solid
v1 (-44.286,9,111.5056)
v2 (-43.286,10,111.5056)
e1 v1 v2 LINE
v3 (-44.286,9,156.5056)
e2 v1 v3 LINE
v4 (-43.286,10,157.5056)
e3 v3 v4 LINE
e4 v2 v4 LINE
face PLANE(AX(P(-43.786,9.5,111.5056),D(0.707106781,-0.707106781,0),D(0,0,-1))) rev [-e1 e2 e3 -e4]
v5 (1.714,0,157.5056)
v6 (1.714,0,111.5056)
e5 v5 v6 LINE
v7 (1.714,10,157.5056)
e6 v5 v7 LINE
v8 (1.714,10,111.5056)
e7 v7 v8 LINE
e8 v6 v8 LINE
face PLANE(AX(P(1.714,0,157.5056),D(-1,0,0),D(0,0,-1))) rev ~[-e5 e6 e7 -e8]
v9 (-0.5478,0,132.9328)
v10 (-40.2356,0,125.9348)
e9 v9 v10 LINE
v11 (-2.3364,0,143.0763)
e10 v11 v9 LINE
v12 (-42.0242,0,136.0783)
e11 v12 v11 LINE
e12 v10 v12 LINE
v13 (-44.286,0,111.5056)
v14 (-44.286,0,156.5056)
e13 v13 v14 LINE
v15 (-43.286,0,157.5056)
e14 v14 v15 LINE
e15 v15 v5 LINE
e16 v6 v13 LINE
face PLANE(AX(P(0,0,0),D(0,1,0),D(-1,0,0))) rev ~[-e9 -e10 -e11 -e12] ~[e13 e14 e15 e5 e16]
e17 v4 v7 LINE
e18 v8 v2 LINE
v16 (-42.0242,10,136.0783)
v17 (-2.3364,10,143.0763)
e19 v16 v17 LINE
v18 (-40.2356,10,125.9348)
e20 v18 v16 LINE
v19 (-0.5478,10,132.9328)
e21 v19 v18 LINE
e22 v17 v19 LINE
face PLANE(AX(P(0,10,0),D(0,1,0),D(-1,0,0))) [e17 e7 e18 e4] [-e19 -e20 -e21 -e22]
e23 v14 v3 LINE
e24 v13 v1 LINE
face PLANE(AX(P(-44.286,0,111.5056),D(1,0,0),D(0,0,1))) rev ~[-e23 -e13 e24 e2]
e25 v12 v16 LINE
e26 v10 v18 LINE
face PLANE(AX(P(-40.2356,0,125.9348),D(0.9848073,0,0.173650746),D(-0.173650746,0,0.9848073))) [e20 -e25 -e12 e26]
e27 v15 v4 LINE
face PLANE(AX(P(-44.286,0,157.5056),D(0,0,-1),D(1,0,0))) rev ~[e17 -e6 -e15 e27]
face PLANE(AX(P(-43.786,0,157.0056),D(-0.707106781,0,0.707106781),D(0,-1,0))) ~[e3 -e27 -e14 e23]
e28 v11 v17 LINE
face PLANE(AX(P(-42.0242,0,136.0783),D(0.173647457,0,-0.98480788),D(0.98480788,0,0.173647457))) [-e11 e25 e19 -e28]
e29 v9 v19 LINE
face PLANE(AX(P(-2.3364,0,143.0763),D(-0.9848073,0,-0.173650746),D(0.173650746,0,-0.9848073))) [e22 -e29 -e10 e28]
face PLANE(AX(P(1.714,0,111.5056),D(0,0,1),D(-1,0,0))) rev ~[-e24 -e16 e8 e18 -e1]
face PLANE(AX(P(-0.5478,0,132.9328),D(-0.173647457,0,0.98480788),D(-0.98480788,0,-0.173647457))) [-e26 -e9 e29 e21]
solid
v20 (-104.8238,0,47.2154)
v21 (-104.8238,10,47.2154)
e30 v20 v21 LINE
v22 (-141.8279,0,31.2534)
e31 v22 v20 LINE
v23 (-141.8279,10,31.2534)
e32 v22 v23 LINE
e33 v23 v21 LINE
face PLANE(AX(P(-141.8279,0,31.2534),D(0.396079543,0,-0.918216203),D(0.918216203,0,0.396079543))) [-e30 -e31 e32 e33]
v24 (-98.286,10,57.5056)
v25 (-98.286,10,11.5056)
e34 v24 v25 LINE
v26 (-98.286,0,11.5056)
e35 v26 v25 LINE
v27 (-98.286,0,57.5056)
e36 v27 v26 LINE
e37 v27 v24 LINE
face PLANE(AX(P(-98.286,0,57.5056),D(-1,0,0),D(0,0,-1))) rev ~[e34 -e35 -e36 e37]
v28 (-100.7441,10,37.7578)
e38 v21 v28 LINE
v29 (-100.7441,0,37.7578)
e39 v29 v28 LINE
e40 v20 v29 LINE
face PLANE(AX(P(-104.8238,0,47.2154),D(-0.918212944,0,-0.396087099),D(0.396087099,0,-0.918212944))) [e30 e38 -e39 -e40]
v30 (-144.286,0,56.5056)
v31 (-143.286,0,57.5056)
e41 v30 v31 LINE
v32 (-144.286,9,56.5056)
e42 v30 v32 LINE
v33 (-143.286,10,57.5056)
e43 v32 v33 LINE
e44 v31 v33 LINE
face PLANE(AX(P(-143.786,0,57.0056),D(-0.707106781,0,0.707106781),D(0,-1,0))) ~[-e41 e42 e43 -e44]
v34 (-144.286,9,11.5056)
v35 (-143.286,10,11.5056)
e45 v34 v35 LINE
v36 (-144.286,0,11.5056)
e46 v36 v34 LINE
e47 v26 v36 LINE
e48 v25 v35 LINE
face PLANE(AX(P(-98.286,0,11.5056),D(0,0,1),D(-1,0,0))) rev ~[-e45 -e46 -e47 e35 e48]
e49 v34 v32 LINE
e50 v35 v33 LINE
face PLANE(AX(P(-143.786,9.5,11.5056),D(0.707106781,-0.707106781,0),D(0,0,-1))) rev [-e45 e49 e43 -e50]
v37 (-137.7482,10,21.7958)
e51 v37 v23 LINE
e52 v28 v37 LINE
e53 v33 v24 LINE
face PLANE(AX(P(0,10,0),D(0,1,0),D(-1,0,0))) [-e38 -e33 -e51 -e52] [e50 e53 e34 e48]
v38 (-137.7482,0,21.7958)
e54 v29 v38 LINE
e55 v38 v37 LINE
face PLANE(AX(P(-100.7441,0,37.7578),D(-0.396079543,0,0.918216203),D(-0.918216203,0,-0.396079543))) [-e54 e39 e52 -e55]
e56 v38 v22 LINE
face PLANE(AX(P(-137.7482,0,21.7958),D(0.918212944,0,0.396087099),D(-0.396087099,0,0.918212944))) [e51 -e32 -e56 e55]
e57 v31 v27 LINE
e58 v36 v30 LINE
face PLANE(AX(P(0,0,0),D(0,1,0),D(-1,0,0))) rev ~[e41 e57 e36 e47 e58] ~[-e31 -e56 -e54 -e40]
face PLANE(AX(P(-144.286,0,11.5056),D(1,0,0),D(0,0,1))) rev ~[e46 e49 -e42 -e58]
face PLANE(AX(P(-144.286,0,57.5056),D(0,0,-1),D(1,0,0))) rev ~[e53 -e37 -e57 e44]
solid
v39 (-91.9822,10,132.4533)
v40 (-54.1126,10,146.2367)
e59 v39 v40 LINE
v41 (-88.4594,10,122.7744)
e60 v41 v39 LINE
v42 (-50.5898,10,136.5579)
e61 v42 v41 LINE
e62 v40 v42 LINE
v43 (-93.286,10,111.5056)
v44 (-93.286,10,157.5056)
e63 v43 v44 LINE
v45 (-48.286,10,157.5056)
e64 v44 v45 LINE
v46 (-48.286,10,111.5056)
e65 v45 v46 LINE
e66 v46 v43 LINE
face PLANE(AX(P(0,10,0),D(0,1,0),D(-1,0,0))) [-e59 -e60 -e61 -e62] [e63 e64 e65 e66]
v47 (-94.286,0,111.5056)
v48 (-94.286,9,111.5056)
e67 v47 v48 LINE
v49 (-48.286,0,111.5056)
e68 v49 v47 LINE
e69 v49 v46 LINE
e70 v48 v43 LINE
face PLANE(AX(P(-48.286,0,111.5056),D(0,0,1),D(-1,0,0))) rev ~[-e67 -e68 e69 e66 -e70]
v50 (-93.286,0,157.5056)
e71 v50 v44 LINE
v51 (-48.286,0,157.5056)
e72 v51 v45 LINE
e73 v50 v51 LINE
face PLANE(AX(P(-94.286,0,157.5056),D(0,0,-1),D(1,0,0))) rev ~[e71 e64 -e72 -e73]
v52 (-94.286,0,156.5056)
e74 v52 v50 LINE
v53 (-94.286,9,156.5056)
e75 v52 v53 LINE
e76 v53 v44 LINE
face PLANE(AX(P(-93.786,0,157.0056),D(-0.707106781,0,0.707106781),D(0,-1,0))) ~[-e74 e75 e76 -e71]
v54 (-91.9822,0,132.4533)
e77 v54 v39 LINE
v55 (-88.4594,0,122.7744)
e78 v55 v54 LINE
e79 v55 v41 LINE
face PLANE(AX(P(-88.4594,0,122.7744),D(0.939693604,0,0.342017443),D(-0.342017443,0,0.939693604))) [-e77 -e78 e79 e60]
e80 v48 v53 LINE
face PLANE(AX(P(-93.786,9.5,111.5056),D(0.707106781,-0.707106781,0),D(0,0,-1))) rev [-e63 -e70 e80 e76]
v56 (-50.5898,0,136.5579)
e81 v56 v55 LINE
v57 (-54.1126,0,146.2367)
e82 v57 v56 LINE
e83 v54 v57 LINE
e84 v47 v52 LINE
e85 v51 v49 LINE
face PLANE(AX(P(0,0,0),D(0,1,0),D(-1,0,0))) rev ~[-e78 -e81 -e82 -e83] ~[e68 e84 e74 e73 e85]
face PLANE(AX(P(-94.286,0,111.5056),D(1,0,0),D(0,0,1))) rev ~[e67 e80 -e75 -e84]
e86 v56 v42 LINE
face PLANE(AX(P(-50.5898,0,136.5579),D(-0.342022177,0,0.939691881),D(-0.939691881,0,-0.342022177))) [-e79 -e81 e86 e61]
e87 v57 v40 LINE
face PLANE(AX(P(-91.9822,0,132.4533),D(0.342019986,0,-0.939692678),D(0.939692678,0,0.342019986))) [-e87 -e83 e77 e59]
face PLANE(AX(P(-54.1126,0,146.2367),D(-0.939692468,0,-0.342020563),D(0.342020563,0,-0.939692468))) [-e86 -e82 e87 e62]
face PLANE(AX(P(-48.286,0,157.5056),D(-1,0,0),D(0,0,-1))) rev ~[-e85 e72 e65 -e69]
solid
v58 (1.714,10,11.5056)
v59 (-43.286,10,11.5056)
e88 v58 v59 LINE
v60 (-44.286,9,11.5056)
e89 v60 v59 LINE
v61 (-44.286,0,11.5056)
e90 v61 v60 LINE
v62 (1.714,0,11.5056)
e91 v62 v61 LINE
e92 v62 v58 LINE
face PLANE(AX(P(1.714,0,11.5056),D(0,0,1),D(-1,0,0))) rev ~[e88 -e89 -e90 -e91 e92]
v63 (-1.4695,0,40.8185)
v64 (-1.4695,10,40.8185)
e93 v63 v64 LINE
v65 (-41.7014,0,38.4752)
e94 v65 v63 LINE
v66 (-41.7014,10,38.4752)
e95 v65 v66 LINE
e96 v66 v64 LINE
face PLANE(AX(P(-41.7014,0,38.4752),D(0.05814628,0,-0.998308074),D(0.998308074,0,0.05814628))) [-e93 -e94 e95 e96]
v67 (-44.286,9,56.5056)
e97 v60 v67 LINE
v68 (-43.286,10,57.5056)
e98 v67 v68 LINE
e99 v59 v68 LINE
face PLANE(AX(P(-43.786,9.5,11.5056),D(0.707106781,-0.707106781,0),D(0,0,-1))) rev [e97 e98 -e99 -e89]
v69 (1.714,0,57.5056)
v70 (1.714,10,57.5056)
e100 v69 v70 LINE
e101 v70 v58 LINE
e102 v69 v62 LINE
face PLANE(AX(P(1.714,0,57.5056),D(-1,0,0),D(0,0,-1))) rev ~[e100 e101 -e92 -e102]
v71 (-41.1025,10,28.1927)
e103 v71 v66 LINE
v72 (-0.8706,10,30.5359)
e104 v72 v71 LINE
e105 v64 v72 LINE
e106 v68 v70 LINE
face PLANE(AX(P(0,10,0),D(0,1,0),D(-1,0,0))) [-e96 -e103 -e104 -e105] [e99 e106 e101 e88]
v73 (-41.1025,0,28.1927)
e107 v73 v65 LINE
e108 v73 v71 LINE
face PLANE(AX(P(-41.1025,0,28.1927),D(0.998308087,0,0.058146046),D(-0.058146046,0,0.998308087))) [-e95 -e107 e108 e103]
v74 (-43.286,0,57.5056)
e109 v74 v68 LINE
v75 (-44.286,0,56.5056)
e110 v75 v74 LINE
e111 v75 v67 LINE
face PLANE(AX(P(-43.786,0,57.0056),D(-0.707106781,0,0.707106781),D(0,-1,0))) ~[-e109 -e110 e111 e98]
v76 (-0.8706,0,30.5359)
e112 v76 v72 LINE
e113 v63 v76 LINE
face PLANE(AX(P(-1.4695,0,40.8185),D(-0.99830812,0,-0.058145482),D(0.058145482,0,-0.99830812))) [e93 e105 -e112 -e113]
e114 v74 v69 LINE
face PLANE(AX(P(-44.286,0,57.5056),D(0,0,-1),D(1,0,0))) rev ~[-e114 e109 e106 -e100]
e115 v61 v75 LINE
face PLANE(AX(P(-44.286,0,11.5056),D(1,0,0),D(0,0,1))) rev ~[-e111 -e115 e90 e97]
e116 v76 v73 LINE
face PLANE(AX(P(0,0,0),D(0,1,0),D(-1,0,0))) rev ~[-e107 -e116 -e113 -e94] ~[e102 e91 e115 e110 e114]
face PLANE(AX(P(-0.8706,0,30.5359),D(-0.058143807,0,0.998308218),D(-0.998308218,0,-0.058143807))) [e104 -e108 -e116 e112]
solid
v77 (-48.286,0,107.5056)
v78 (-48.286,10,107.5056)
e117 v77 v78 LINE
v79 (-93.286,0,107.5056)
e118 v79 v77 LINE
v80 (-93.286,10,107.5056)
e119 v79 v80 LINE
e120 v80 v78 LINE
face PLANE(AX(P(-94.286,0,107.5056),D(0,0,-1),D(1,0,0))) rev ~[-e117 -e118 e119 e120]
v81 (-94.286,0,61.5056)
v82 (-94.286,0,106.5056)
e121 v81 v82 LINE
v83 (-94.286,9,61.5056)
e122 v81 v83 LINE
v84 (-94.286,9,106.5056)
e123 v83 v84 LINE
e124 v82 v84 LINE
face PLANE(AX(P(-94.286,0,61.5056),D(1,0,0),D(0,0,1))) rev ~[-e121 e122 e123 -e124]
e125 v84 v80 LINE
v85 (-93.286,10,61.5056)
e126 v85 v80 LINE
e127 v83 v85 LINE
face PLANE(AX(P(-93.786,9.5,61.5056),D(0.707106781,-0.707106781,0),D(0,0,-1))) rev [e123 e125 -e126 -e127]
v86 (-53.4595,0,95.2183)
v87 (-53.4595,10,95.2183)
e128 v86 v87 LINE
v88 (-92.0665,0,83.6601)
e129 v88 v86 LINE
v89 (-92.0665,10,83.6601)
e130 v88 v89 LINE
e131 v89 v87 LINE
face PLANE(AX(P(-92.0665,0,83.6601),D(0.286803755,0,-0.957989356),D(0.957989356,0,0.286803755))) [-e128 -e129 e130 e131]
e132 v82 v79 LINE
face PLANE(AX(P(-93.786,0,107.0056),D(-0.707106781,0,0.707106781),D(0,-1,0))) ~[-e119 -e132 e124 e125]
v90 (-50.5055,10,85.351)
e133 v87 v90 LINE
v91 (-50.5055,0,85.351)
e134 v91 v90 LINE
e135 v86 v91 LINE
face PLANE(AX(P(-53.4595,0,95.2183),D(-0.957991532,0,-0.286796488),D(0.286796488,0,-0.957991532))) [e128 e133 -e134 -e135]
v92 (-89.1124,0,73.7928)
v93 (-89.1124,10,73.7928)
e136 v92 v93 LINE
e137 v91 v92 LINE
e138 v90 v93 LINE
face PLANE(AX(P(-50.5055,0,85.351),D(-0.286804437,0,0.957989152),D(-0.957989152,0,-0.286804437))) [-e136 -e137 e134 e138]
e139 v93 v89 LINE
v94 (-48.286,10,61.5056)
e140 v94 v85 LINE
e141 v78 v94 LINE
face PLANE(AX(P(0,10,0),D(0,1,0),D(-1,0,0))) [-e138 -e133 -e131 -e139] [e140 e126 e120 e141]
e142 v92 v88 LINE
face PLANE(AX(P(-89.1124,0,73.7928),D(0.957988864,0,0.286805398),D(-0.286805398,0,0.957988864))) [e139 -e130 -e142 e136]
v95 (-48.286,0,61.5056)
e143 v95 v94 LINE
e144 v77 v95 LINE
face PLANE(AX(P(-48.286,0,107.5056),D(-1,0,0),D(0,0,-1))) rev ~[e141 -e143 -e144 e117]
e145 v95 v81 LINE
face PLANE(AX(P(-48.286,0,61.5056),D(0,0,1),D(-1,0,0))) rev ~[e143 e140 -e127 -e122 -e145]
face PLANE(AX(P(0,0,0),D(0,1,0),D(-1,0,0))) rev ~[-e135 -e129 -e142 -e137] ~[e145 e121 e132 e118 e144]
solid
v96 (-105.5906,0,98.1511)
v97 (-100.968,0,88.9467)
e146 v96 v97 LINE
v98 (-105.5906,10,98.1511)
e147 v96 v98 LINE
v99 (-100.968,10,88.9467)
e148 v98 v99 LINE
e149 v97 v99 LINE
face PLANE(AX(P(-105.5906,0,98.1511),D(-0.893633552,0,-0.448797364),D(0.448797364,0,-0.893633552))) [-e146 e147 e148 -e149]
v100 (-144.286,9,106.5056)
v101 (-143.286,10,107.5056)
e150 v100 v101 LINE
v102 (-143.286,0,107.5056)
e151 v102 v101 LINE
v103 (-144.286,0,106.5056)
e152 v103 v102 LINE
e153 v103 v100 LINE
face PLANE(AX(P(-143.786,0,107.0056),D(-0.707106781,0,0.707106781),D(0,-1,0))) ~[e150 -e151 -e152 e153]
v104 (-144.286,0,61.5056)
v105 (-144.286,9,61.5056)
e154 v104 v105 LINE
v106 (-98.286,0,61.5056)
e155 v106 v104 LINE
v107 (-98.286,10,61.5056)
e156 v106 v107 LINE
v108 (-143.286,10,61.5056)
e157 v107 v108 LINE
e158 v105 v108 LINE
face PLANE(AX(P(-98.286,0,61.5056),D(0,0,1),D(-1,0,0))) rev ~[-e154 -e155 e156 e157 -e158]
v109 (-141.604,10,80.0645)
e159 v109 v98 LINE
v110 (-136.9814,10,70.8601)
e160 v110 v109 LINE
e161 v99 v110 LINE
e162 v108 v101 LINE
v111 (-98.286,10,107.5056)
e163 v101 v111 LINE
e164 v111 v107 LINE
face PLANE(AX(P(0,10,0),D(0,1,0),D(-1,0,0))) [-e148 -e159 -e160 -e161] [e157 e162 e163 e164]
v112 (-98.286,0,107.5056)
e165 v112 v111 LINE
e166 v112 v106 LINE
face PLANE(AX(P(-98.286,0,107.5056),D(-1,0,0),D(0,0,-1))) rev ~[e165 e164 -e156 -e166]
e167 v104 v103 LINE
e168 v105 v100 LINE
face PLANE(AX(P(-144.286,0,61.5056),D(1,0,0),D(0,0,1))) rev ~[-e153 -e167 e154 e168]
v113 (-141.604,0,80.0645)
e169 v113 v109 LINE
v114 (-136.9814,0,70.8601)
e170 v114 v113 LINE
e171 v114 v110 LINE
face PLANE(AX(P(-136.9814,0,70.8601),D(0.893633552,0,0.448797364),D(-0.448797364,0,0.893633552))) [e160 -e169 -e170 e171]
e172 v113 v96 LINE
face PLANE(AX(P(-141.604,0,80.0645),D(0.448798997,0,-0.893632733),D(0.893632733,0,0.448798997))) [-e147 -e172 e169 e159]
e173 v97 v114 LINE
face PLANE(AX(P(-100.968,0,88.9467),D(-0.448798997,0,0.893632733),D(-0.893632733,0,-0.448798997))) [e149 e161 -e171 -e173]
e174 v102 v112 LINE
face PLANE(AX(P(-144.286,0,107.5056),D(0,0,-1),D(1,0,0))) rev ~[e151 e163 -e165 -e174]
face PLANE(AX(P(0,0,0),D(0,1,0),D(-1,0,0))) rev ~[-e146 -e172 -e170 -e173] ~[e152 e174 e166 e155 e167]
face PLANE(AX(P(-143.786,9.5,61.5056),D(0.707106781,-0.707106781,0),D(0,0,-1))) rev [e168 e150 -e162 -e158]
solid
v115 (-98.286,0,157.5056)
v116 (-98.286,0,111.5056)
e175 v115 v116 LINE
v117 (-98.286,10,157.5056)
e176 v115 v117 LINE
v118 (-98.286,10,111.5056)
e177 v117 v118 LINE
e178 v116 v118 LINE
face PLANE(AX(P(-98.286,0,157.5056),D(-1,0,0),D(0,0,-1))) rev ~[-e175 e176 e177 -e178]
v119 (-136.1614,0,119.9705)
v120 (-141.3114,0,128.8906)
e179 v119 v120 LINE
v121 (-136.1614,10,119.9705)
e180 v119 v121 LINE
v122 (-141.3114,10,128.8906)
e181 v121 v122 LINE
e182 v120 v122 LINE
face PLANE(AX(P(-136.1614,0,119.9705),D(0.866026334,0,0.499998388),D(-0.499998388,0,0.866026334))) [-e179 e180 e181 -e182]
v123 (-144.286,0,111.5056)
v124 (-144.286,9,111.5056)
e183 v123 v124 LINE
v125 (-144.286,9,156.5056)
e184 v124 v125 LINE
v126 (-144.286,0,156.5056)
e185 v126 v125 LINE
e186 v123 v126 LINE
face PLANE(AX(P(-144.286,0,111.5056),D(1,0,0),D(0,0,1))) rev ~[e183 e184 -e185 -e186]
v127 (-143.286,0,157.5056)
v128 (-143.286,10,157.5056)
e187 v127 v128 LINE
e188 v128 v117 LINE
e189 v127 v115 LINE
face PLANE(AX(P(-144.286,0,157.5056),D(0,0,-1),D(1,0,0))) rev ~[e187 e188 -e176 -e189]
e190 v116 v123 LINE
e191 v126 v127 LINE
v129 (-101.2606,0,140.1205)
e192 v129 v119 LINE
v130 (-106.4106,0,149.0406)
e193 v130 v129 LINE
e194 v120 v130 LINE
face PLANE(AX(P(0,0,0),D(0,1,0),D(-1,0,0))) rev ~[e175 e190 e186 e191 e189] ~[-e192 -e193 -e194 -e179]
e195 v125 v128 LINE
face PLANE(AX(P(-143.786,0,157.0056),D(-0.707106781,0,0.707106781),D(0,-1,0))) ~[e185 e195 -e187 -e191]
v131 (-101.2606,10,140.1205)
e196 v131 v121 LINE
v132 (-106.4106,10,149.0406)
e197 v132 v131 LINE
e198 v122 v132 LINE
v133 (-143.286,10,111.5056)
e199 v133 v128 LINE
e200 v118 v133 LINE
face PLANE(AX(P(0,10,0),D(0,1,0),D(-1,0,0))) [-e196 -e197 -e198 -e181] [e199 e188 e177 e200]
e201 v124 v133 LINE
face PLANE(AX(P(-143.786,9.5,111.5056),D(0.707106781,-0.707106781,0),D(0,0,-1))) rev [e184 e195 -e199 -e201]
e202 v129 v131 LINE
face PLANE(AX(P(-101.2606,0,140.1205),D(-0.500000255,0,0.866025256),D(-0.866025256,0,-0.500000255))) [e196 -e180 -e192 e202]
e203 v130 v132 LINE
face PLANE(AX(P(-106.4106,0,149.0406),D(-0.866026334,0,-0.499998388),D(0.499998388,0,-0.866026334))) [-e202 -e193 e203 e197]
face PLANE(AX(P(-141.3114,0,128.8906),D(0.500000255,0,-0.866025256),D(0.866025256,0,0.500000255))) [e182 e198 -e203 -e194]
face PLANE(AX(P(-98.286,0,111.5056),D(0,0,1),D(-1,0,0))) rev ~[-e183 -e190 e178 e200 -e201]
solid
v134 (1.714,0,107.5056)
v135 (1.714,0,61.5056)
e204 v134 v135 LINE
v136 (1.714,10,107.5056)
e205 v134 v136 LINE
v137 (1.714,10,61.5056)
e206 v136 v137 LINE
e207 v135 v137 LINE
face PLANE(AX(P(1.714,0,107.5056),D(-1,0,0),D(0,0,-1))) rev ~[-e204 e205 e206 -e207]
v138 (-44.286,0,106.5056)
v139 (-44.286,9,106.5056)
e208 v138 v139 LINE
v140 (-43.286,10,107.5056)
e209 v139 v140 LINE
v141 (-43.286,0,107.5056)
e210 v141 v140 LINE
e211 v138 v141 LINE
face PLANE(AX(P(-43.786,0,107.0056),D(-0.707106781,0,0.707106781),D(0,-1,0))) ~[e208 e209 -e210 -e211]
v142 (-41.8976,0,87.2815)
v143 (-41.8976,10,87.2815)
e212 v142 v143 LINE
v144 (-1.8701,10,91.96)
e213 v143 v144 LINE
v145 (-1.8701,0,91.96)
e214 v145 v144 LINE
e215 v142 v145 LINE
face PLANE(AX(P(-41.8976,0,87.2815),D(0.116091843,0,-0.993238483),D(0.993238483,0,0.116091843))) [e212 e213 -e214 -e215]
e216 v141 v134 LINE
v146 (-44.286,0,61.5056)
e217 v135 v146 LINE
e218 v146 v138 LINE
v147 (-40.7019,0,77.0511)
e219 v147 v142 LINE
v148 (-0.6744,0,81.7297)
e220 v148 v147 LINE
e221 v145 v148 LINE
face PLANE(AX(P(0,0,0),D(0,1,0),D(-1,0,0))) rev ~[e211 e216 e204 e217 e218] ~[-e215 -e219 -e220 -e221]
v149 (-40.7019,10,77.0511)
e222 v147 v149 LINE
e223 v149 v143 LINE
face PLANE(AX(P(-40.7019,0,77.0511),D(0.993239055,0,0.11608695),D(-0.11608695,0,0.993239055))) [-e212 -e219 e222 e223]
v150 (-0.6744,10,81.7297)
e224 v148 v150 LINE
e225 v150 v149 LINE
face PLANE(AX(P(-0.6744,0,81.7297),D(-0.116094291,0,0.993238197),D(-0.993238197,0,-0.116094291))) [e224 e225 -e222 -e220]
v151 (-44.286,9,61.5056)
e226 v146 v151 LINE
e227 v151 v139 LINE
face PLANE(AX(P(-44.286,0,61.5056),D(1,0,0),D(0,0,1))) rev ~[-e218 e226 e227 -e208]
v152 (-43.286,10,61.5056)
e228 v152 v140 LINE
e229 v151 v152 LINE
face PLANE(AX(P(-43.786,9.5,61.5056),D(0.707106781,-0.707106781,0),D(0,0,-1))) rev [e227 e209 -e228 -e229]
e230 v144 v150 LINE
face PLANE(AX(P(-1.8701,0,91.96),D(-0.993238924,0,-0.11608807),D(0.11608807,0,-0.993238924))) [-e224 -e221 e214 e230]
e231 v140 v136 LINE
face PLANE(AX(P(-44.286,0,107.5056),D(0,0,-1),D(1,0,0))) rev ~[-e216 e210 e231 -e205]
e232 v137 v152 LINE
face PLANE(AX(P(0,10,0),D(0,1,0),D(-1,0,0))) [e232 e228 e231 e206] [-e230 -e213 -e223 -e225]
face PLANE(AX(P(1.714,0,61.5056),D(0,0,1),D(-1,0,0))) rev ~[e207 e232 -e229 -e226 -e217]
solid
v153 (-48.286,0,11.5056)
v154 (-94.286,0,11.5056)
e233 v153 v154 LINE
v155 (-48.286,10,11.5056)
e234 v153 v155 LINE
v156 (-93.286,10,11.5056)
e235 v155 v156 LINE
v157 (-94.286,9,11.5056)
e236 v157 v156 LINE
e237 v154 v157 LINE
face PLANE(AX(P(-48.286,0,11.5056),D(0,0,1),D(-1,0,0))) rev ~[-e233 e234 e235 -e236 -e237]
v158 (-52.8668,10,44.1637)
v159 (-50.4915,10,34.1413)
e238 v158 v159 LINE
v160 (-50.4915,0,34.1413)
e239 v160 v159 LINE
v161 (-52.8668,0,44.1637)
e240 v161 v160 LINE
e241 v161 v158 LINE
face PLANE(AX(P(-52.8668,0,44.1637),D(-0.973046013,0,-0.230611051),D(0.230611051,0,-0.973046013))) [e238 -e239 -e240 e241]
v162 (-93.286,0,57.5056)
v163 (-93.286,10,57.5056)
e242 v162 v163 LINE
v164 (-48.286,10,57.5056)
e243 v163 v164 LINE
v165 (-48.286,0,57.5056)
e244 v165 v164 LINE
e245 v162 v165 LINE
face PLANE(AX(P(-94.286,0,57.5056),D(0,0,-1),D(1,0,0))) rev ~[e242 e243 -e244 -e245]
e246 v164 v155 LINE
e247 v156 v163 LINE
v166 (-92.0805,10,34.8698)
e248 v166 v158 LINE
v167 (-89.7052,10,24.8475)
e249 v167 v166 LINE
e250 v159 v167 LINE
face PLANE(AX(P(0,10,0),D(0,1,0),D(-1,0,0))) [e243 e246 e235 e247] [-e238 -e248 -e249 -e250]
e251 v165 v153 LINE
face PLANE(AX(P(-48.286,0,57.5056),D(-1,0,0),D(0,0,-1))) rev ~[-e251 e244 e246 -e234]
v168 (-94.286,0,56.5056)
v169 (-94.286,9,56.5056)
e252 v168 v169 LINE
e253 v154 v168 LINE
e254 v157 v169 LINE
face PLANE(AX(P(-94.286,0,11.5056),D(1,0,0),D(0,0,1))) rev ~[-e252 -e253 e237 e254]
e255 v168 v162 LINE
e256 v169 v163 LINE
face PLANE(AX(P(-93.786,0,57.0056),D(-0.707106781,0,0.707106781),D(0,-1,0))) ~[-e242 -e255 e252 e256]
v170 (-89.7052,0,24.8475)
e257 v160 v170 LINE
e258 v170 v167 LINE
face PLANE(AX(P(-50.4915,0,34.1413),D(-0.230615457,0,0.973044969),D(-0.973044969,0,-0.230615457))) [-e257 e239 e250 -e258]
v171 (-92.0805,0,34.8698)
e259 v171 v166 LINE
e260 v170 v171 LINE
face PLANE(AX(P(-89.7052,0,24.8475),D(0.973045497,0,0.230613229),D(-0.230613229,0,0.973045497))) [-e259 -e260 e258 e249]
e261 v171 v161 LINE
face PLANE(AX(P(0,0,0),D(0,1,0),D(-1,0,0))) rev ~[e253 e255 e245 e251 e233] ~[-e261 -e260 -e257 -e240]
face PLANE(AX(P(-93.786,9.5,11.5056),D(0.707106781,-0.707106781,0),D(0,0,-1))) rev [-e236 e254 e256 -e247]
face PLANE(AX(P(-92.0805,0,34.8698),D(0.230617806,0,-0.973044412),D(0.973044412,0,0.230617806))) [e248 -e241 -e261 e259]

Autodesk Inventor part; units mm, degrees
ref_plane "YZ Plane" through (0, 0, 0) normal (1, 0, 0) x (0, 1, 0)
ref_plane "XZ Plane" through (0, 0, 0) normal (0, 1, 0) x (-1, 0, 0)
ref_plane "XY Plane" through (0, 0, 0) normal (0, 0, 1) x (1, 0, 0)
sketch "Sketch1" plane through (0, 0, 0) normal (0, 1, 0) x (-1, 0, 0)
  line L0 (44.286, 57.5056) -> (-1.714, 57.5056)
  line L1 (-1.714, 57.5056) -> (-1.714, 11.5056)
  line L2 (-1.714, 11.5056) -> (44.286, 11.5056)
  line L3 (44.286, 11.5056) -> (44.286, 57.5056)
  line L4 (21.286, 57.5056) -> (21.286, 11.5056) construction
  line L5 (44.286, 34.5056) -> (-1.714, 34.5056) construction
  line L6 (1.6724, 35.6479) -> (21.286, 34.5056) construction
  line L7 (21.286, 34.5056) -> (20.6956, 24.3685) construction
  line L8 (1.4695, 40.8185) -> (0.8706, 30.5359)
  line L9 (0.8706, 30.5359) -> (41.1025, 28.1927)
  line L10 (41.1025, 28.1927) -> (41.7014, 38.4752)
  line L11 (41.7014, 38.4752) -> (1.4695, 40.8185)
  line L12 (94.286, 57.5056) -> (48.286, 57.5056)
  line L13 (48.286, 57.5056) -> (48.286, 11.5056)
  line L14 (48.286, 11.5056) -> (94.286, 11.5056)
  line L15 (94.286, 11.5056) -> (94.286, 57.5056)
  line L16 (71.286, 57.5056) -> (71.286, 11.5056) construction
  line L17 (94.286, 34.5056) -> (48.286, 34.5056) construction
  line L18 (52.1688, 39.0364) -> (71.286, 34.5056) construction
  line L19 (71.286, 34.5056) -> (68.9443, 24.625) construction
  line L20 (52.8668, 44.1637) -> (50.4915, 34.1413)
  line L21 (50.4915, 34.1413) -> (89.7052, 24.8475)
  line L22 (89.7052, 24.8475) -> (92.0805, 34.8698)
  line L23 (92.0805, 34.8698) -> (52.8668, 44.1637)
  line L24 (144.286, 57.5056) -> (98.286, 57.5056)
  line L25 (98.286, 57.5056) -> (98.286, 11.5056)
  line L26 (98.286, 11.5056) -> (144.286, 11.5056)
  line L27 (144.286, 11.5056) -> (144.286, 57.5056)
  line L28 (121.286, 57.5056) -> (121.286, 11.5056) construction
  line L29 (144.286, 34.5056) -> (98.286, 34.5056) construction
  line L30 (103.246, 42.2873) -> (121.286, 34.5056) construction
  line L31 (121.286, 34.5056) -> (117.2641, 25.1818) construction
  line L32 (104.8238, 47.2154) -> (100.7441, 37.7578)
  line L33 (100.7441, 37.7578) -> (137.7482, 21.7958)
  line L34 (137.7482, 21.7958) -> (141.8279, 31.2534)
  line L35 (141.8279, 31.2534) -> (104.8238, 47.2154)
  line L36 (44.286, 107.5056) -> (-1.714, 107.5056)
  line L37 (-1.714, 107.5056) -> (-1.714, 61.5056)
  line L38 (-1.714, 61.5056) -> (44.286, 61.5056)
  line L39 (44.286, 61.5056) -> (44.286, 107.5056)
  line L40 (21.286, 107.5056) -> (21.286, 61.5056) construction
  line L41 (44.286, 84.5056) -> (-1.714, 84.5056) construction
  line L42 (1.772, 86.7864) -> (21.286, 84.5056) construction
  line L43 (21.286, 84.5056) -> (20.1072, 74.42) construction
  line L44 (1.8701, 91.96) -> (0.6744, 81.7297)
  line L45 (0.6744, 81.7297) -> (40.7019, 77.0511)
  line L46 (40.7019, 77.0511) -> (41.8976, 87.2815)
  line L47 (41.8976, 87.2815) -> (1.8701, 91.96)
  line L48 (44.286, 157.5056) -> (-1.714, 157.5056)
  line L49 (-1.714, 157.5056) -> (-1.714, 111.5056)
  line L50 (-1.714, 111.5056) -> (44.286, 111.5056)
  line L51 (44.286, 111.5056) -> (44.286, 157.5056)
  line L52 (21.286, 157.5056) -> (21.286, 111.5056) construction
  line L53 (44.286, 134.5056) -> (-1.714, 134.5056) construction
  line L54 (1.9377, 137.9172) -> (21.286, 134.5056) construction
  line L55 (21.286, 134.5056) -> (19.5227, 124.5056) construction
  line L56 (2.3364, 143.0763) -> (0.5478, 132.9328)
  line L57 (0.5478, 132.9328) -> (40.2356, 125.9348)
  line L58 (40.2356, 125.9348) -> (42.0242, 136.0783)
  line L59 (42.0242, 136.0783) -> (2.3364, 143.0763)
  line L60 (94.286, 107.5056) -> (48.286, 107.5056)
  line L61 (48.286, 107.5056) -> (48.286, 61.5056)
  line L62 (48.286, 61.5056) -> (94.286, 61.5056)
  line L63 (94.286, 61.5056) -> (94.286, 107.5056)
  line L64 (71.286, 107.5056) -> (71.286, 61.5056) construction
  line L65 (94.286, 84.5056) -> (48.286, 84.5056) construction
  line L66 (52.4646, 90.1403) -> (71.286, 84.5056) construction
  line L67 (71.286, 84.5056) -> (68.3737, 74.7779) construction
  line L68 (53.4595, 95.2183) -> (50.5055, 85.351)
  line L69 (50.5055, 85.351) -> (89.1124, 73.7928)
  line L70 (89.1124, 73.7928) -> (92.0665, 83.6601)
  line L71 (92.0665, 83.6601) -> (53.4595, 95.2183)
  line L72 (94.286, 157.5056) -> (48.286, 157.5056)
  line L73 (48.286, 157.5056) -> (48.286, 111.5056)
  line L74 (48.286, 111.5056) -> (94.286, 111.5056)
  line L75 (94.286, 111.5056) -> (94.286, 157.5056)
  line L76 (71.286, 157.5056) -> (71.286, 111.5056) construction
  line L77 (94.286, 134.5056) -> (48.286, 134.5056) construction
  line L78 (52.824, 141.2252) -> (71.286, 134.5056) construction
  line L79 (71.286, 134.5056) -> (67.813, 124.9637) construction
  line L80 (54.1126, 146.2367) -> (50.5898, 136.5579)
  line L81 (50.5898, 136.5579) -> (88.4594, 122.7744)
  line L82 (88.4594, 122.7744) -> (91.9822, 132.4533)
  line L83 (91.9822, 132.4533) -> (54.1126, 146.2367)
  line L84 (144.286, 107.5056) -> (98.286, 107.5056)
  line L85 (98.286, 107.5056) -> (98.286, 61.5056)
  line L86 (98.286, 61.5056) -> (144.286, 61.5056)
  line L87 (144.286, 61.5056) -> (144.286, 107.5056)
  line L88 (121.286, 107.5056) -> (121.286, 61.5056) construction
  line L89 (144.286, 84.5056) -> (98.286, 84.5056) construction
  line L90 (103.729, 93.323) -> (121.286, 84.5056) construction
  line L91 (121.286, 84.5056) -> (116.7288, 75.4314) construction
  line L92 (105.5906, 98.1511) -> (100.968, 88.9467)
  line L93 (100.968, 88.9467) -> (136.9814, 70.8601)
  line L94 (136.9814, 70.8601) -> (141.604, 80.0645)
  line L95 (141.604, 80.0645) -> (105.5906, 98.1511)
  line L96 (144.286, 157.5056) -> (98.286, 157.5056)
  line L97 (98.286, 157.5056) -> (98.286, 111.5056)
  line L98 (98.286, 111.5056) -> (144.286, 111.5056)
  line L99 (144.286, 111.5056) -> (144.286, 157.5056)
  line L100 (121.286, 157.5056) -> (121.286, 111.5056) construction
  line L101 (144.286, 134.5056) -> (98.286, 134.5056) construction
  line L102 (104.2714, 144.329) -> (121.286, 134.5056) construction
  line L103 (121.286, 134.5056) -> (116.2089, 125.7117) construction
  line L104 (106.4106, 149.0406) -> (101.2606, 140.1205)
  line L105 (101.2606, 140.1205) -> (136.1614, 119.9705)
  line L106 (136.1614, 119.9705) -> (141.3114, 128.8906)
  line L107 (141.3114, 128.8906) -> (106.4106, 149.0406)
  dimension "w" = 46
  dimension "d65" = 46
  dimension "d" = 10.3
  dimension "d67" = 40.3
  dimension "d68" = 176.667
  dimension "d69" = 46
  dimension "d70" = 46
  dimension "d71" = 10.3
  dimension "d72" = 40.3
  dimension "d73" = 166.667
  dimension "d76" = 46
  dimension "d77" = 46
  dimension "d78" = 10.3
  dimension "d79" = 40.3
  dimension "d80" = 156.667
  dimension "d83" = 46
  dimension "d84" = 46
  dimension "d85" = 10.3
  dimension "d86" = 40.3
  dimension "d87" = 173.333
  dimension "d90" = 46
  dimension "d91" = 46
  dimension "d92" = 10.3
  dimension "d93" = 40.3
  dimension "d94" = 170
  dimension "d97" = 46
  dimension "d98" = 46
  dimension "d99" = 10.3
  dimension "d100" = 40.3
  dimension "d101" = 163.333
  dimension "d104" = 46
  dimension "d105" = 46
  dimension "d106" = 10.3
  dimension "d107" = 40.3
  dimension "d108" = 160
  dimension "d111" = 46
  dimension "d112" = 46
  dimension "d113" = 10.3
  dimension "d114" = 40.3
  dimension "d115" = 153.333
  dimension "d118" = 46
  dimension "d119" = 46
  dimension "d120" = 10.3
  dimension "d121" = 40.3
  dimension "d122" = 150
extrude "Extrusion1" add sketch "Sketch1" along normal blind 10
chamfer "Chamfer1" distance 1 angle 45 18 edges at (-144.286, 10, 134.5056) (-144.286, 10, 84.5056) (-144.286, 10, 34.5056) (-94.286, 10, 134.5056) (-94.286, 10, 84.5056) (-94.286, 10, 34.5056) (-44.286, 10, 34.5056) (-44.286, 10, 84.5056) (-44.286, 10, 134.5056) (-144.286, 5, 157.5056) (-144.286, 5, 107.5056) (-144.286, 5, 57.5056) (-94.286, 5, 157.5056) (-94.286, 5, 107.5056) (-94.286, 5, 57.5056) (-44.286, 5, 157.5056) (-44.286, 5, 107.5056) (-44.286, 5, 57.5056)
equation "\"d68\" = a0 + 8 * ad"
equation "\"d73\" = a0 + 5 * ad"
equation "\"d80\" = a0 + 2 * ad"
equation "\"d87\" = a0 + 7 * ad"
equation "\"d94\" = a0 + 6 * ad"
equation "\"d101\" = a0 + 4 * ad"
equation "\"d108\" = a0 + 3 * ad"
equation "\"d115\" = a0 + ad"
equation "\"d122\" = a0 + 0 * ad"
equation "\"ad\" = 3.33333deg"
equation "\"d74\" = 0 * d75"
equation "\"d75\" = 3.333333deg"
equation "\"d81\" = 0 * d82"
equation "\"d82\" = 3.333333deg"
equation "\"d88\" = 0 * d89"
equation "\"d89\" = 3.333333deg"
equation "\"d95\" = 0 * d96"
equation "\"d96\" = 3.333333deg"
equation "\"d102\" = 0 * d103"
equation "\"d103\" = 3.333333deg"
equation "\"d109\" = 0 * d110"
equation "\"d110\" = 3.333333deg"
equation "\"d116\" = 0 * d117"
equation "\"d117\" = 3.333333deg"
equation "\"d123\" = 0 * d124"
equation "\"d124\" = 3.333333deg"
equation "\"a0\" = 150deg"
properties part number "magnet-54-offset-45"
